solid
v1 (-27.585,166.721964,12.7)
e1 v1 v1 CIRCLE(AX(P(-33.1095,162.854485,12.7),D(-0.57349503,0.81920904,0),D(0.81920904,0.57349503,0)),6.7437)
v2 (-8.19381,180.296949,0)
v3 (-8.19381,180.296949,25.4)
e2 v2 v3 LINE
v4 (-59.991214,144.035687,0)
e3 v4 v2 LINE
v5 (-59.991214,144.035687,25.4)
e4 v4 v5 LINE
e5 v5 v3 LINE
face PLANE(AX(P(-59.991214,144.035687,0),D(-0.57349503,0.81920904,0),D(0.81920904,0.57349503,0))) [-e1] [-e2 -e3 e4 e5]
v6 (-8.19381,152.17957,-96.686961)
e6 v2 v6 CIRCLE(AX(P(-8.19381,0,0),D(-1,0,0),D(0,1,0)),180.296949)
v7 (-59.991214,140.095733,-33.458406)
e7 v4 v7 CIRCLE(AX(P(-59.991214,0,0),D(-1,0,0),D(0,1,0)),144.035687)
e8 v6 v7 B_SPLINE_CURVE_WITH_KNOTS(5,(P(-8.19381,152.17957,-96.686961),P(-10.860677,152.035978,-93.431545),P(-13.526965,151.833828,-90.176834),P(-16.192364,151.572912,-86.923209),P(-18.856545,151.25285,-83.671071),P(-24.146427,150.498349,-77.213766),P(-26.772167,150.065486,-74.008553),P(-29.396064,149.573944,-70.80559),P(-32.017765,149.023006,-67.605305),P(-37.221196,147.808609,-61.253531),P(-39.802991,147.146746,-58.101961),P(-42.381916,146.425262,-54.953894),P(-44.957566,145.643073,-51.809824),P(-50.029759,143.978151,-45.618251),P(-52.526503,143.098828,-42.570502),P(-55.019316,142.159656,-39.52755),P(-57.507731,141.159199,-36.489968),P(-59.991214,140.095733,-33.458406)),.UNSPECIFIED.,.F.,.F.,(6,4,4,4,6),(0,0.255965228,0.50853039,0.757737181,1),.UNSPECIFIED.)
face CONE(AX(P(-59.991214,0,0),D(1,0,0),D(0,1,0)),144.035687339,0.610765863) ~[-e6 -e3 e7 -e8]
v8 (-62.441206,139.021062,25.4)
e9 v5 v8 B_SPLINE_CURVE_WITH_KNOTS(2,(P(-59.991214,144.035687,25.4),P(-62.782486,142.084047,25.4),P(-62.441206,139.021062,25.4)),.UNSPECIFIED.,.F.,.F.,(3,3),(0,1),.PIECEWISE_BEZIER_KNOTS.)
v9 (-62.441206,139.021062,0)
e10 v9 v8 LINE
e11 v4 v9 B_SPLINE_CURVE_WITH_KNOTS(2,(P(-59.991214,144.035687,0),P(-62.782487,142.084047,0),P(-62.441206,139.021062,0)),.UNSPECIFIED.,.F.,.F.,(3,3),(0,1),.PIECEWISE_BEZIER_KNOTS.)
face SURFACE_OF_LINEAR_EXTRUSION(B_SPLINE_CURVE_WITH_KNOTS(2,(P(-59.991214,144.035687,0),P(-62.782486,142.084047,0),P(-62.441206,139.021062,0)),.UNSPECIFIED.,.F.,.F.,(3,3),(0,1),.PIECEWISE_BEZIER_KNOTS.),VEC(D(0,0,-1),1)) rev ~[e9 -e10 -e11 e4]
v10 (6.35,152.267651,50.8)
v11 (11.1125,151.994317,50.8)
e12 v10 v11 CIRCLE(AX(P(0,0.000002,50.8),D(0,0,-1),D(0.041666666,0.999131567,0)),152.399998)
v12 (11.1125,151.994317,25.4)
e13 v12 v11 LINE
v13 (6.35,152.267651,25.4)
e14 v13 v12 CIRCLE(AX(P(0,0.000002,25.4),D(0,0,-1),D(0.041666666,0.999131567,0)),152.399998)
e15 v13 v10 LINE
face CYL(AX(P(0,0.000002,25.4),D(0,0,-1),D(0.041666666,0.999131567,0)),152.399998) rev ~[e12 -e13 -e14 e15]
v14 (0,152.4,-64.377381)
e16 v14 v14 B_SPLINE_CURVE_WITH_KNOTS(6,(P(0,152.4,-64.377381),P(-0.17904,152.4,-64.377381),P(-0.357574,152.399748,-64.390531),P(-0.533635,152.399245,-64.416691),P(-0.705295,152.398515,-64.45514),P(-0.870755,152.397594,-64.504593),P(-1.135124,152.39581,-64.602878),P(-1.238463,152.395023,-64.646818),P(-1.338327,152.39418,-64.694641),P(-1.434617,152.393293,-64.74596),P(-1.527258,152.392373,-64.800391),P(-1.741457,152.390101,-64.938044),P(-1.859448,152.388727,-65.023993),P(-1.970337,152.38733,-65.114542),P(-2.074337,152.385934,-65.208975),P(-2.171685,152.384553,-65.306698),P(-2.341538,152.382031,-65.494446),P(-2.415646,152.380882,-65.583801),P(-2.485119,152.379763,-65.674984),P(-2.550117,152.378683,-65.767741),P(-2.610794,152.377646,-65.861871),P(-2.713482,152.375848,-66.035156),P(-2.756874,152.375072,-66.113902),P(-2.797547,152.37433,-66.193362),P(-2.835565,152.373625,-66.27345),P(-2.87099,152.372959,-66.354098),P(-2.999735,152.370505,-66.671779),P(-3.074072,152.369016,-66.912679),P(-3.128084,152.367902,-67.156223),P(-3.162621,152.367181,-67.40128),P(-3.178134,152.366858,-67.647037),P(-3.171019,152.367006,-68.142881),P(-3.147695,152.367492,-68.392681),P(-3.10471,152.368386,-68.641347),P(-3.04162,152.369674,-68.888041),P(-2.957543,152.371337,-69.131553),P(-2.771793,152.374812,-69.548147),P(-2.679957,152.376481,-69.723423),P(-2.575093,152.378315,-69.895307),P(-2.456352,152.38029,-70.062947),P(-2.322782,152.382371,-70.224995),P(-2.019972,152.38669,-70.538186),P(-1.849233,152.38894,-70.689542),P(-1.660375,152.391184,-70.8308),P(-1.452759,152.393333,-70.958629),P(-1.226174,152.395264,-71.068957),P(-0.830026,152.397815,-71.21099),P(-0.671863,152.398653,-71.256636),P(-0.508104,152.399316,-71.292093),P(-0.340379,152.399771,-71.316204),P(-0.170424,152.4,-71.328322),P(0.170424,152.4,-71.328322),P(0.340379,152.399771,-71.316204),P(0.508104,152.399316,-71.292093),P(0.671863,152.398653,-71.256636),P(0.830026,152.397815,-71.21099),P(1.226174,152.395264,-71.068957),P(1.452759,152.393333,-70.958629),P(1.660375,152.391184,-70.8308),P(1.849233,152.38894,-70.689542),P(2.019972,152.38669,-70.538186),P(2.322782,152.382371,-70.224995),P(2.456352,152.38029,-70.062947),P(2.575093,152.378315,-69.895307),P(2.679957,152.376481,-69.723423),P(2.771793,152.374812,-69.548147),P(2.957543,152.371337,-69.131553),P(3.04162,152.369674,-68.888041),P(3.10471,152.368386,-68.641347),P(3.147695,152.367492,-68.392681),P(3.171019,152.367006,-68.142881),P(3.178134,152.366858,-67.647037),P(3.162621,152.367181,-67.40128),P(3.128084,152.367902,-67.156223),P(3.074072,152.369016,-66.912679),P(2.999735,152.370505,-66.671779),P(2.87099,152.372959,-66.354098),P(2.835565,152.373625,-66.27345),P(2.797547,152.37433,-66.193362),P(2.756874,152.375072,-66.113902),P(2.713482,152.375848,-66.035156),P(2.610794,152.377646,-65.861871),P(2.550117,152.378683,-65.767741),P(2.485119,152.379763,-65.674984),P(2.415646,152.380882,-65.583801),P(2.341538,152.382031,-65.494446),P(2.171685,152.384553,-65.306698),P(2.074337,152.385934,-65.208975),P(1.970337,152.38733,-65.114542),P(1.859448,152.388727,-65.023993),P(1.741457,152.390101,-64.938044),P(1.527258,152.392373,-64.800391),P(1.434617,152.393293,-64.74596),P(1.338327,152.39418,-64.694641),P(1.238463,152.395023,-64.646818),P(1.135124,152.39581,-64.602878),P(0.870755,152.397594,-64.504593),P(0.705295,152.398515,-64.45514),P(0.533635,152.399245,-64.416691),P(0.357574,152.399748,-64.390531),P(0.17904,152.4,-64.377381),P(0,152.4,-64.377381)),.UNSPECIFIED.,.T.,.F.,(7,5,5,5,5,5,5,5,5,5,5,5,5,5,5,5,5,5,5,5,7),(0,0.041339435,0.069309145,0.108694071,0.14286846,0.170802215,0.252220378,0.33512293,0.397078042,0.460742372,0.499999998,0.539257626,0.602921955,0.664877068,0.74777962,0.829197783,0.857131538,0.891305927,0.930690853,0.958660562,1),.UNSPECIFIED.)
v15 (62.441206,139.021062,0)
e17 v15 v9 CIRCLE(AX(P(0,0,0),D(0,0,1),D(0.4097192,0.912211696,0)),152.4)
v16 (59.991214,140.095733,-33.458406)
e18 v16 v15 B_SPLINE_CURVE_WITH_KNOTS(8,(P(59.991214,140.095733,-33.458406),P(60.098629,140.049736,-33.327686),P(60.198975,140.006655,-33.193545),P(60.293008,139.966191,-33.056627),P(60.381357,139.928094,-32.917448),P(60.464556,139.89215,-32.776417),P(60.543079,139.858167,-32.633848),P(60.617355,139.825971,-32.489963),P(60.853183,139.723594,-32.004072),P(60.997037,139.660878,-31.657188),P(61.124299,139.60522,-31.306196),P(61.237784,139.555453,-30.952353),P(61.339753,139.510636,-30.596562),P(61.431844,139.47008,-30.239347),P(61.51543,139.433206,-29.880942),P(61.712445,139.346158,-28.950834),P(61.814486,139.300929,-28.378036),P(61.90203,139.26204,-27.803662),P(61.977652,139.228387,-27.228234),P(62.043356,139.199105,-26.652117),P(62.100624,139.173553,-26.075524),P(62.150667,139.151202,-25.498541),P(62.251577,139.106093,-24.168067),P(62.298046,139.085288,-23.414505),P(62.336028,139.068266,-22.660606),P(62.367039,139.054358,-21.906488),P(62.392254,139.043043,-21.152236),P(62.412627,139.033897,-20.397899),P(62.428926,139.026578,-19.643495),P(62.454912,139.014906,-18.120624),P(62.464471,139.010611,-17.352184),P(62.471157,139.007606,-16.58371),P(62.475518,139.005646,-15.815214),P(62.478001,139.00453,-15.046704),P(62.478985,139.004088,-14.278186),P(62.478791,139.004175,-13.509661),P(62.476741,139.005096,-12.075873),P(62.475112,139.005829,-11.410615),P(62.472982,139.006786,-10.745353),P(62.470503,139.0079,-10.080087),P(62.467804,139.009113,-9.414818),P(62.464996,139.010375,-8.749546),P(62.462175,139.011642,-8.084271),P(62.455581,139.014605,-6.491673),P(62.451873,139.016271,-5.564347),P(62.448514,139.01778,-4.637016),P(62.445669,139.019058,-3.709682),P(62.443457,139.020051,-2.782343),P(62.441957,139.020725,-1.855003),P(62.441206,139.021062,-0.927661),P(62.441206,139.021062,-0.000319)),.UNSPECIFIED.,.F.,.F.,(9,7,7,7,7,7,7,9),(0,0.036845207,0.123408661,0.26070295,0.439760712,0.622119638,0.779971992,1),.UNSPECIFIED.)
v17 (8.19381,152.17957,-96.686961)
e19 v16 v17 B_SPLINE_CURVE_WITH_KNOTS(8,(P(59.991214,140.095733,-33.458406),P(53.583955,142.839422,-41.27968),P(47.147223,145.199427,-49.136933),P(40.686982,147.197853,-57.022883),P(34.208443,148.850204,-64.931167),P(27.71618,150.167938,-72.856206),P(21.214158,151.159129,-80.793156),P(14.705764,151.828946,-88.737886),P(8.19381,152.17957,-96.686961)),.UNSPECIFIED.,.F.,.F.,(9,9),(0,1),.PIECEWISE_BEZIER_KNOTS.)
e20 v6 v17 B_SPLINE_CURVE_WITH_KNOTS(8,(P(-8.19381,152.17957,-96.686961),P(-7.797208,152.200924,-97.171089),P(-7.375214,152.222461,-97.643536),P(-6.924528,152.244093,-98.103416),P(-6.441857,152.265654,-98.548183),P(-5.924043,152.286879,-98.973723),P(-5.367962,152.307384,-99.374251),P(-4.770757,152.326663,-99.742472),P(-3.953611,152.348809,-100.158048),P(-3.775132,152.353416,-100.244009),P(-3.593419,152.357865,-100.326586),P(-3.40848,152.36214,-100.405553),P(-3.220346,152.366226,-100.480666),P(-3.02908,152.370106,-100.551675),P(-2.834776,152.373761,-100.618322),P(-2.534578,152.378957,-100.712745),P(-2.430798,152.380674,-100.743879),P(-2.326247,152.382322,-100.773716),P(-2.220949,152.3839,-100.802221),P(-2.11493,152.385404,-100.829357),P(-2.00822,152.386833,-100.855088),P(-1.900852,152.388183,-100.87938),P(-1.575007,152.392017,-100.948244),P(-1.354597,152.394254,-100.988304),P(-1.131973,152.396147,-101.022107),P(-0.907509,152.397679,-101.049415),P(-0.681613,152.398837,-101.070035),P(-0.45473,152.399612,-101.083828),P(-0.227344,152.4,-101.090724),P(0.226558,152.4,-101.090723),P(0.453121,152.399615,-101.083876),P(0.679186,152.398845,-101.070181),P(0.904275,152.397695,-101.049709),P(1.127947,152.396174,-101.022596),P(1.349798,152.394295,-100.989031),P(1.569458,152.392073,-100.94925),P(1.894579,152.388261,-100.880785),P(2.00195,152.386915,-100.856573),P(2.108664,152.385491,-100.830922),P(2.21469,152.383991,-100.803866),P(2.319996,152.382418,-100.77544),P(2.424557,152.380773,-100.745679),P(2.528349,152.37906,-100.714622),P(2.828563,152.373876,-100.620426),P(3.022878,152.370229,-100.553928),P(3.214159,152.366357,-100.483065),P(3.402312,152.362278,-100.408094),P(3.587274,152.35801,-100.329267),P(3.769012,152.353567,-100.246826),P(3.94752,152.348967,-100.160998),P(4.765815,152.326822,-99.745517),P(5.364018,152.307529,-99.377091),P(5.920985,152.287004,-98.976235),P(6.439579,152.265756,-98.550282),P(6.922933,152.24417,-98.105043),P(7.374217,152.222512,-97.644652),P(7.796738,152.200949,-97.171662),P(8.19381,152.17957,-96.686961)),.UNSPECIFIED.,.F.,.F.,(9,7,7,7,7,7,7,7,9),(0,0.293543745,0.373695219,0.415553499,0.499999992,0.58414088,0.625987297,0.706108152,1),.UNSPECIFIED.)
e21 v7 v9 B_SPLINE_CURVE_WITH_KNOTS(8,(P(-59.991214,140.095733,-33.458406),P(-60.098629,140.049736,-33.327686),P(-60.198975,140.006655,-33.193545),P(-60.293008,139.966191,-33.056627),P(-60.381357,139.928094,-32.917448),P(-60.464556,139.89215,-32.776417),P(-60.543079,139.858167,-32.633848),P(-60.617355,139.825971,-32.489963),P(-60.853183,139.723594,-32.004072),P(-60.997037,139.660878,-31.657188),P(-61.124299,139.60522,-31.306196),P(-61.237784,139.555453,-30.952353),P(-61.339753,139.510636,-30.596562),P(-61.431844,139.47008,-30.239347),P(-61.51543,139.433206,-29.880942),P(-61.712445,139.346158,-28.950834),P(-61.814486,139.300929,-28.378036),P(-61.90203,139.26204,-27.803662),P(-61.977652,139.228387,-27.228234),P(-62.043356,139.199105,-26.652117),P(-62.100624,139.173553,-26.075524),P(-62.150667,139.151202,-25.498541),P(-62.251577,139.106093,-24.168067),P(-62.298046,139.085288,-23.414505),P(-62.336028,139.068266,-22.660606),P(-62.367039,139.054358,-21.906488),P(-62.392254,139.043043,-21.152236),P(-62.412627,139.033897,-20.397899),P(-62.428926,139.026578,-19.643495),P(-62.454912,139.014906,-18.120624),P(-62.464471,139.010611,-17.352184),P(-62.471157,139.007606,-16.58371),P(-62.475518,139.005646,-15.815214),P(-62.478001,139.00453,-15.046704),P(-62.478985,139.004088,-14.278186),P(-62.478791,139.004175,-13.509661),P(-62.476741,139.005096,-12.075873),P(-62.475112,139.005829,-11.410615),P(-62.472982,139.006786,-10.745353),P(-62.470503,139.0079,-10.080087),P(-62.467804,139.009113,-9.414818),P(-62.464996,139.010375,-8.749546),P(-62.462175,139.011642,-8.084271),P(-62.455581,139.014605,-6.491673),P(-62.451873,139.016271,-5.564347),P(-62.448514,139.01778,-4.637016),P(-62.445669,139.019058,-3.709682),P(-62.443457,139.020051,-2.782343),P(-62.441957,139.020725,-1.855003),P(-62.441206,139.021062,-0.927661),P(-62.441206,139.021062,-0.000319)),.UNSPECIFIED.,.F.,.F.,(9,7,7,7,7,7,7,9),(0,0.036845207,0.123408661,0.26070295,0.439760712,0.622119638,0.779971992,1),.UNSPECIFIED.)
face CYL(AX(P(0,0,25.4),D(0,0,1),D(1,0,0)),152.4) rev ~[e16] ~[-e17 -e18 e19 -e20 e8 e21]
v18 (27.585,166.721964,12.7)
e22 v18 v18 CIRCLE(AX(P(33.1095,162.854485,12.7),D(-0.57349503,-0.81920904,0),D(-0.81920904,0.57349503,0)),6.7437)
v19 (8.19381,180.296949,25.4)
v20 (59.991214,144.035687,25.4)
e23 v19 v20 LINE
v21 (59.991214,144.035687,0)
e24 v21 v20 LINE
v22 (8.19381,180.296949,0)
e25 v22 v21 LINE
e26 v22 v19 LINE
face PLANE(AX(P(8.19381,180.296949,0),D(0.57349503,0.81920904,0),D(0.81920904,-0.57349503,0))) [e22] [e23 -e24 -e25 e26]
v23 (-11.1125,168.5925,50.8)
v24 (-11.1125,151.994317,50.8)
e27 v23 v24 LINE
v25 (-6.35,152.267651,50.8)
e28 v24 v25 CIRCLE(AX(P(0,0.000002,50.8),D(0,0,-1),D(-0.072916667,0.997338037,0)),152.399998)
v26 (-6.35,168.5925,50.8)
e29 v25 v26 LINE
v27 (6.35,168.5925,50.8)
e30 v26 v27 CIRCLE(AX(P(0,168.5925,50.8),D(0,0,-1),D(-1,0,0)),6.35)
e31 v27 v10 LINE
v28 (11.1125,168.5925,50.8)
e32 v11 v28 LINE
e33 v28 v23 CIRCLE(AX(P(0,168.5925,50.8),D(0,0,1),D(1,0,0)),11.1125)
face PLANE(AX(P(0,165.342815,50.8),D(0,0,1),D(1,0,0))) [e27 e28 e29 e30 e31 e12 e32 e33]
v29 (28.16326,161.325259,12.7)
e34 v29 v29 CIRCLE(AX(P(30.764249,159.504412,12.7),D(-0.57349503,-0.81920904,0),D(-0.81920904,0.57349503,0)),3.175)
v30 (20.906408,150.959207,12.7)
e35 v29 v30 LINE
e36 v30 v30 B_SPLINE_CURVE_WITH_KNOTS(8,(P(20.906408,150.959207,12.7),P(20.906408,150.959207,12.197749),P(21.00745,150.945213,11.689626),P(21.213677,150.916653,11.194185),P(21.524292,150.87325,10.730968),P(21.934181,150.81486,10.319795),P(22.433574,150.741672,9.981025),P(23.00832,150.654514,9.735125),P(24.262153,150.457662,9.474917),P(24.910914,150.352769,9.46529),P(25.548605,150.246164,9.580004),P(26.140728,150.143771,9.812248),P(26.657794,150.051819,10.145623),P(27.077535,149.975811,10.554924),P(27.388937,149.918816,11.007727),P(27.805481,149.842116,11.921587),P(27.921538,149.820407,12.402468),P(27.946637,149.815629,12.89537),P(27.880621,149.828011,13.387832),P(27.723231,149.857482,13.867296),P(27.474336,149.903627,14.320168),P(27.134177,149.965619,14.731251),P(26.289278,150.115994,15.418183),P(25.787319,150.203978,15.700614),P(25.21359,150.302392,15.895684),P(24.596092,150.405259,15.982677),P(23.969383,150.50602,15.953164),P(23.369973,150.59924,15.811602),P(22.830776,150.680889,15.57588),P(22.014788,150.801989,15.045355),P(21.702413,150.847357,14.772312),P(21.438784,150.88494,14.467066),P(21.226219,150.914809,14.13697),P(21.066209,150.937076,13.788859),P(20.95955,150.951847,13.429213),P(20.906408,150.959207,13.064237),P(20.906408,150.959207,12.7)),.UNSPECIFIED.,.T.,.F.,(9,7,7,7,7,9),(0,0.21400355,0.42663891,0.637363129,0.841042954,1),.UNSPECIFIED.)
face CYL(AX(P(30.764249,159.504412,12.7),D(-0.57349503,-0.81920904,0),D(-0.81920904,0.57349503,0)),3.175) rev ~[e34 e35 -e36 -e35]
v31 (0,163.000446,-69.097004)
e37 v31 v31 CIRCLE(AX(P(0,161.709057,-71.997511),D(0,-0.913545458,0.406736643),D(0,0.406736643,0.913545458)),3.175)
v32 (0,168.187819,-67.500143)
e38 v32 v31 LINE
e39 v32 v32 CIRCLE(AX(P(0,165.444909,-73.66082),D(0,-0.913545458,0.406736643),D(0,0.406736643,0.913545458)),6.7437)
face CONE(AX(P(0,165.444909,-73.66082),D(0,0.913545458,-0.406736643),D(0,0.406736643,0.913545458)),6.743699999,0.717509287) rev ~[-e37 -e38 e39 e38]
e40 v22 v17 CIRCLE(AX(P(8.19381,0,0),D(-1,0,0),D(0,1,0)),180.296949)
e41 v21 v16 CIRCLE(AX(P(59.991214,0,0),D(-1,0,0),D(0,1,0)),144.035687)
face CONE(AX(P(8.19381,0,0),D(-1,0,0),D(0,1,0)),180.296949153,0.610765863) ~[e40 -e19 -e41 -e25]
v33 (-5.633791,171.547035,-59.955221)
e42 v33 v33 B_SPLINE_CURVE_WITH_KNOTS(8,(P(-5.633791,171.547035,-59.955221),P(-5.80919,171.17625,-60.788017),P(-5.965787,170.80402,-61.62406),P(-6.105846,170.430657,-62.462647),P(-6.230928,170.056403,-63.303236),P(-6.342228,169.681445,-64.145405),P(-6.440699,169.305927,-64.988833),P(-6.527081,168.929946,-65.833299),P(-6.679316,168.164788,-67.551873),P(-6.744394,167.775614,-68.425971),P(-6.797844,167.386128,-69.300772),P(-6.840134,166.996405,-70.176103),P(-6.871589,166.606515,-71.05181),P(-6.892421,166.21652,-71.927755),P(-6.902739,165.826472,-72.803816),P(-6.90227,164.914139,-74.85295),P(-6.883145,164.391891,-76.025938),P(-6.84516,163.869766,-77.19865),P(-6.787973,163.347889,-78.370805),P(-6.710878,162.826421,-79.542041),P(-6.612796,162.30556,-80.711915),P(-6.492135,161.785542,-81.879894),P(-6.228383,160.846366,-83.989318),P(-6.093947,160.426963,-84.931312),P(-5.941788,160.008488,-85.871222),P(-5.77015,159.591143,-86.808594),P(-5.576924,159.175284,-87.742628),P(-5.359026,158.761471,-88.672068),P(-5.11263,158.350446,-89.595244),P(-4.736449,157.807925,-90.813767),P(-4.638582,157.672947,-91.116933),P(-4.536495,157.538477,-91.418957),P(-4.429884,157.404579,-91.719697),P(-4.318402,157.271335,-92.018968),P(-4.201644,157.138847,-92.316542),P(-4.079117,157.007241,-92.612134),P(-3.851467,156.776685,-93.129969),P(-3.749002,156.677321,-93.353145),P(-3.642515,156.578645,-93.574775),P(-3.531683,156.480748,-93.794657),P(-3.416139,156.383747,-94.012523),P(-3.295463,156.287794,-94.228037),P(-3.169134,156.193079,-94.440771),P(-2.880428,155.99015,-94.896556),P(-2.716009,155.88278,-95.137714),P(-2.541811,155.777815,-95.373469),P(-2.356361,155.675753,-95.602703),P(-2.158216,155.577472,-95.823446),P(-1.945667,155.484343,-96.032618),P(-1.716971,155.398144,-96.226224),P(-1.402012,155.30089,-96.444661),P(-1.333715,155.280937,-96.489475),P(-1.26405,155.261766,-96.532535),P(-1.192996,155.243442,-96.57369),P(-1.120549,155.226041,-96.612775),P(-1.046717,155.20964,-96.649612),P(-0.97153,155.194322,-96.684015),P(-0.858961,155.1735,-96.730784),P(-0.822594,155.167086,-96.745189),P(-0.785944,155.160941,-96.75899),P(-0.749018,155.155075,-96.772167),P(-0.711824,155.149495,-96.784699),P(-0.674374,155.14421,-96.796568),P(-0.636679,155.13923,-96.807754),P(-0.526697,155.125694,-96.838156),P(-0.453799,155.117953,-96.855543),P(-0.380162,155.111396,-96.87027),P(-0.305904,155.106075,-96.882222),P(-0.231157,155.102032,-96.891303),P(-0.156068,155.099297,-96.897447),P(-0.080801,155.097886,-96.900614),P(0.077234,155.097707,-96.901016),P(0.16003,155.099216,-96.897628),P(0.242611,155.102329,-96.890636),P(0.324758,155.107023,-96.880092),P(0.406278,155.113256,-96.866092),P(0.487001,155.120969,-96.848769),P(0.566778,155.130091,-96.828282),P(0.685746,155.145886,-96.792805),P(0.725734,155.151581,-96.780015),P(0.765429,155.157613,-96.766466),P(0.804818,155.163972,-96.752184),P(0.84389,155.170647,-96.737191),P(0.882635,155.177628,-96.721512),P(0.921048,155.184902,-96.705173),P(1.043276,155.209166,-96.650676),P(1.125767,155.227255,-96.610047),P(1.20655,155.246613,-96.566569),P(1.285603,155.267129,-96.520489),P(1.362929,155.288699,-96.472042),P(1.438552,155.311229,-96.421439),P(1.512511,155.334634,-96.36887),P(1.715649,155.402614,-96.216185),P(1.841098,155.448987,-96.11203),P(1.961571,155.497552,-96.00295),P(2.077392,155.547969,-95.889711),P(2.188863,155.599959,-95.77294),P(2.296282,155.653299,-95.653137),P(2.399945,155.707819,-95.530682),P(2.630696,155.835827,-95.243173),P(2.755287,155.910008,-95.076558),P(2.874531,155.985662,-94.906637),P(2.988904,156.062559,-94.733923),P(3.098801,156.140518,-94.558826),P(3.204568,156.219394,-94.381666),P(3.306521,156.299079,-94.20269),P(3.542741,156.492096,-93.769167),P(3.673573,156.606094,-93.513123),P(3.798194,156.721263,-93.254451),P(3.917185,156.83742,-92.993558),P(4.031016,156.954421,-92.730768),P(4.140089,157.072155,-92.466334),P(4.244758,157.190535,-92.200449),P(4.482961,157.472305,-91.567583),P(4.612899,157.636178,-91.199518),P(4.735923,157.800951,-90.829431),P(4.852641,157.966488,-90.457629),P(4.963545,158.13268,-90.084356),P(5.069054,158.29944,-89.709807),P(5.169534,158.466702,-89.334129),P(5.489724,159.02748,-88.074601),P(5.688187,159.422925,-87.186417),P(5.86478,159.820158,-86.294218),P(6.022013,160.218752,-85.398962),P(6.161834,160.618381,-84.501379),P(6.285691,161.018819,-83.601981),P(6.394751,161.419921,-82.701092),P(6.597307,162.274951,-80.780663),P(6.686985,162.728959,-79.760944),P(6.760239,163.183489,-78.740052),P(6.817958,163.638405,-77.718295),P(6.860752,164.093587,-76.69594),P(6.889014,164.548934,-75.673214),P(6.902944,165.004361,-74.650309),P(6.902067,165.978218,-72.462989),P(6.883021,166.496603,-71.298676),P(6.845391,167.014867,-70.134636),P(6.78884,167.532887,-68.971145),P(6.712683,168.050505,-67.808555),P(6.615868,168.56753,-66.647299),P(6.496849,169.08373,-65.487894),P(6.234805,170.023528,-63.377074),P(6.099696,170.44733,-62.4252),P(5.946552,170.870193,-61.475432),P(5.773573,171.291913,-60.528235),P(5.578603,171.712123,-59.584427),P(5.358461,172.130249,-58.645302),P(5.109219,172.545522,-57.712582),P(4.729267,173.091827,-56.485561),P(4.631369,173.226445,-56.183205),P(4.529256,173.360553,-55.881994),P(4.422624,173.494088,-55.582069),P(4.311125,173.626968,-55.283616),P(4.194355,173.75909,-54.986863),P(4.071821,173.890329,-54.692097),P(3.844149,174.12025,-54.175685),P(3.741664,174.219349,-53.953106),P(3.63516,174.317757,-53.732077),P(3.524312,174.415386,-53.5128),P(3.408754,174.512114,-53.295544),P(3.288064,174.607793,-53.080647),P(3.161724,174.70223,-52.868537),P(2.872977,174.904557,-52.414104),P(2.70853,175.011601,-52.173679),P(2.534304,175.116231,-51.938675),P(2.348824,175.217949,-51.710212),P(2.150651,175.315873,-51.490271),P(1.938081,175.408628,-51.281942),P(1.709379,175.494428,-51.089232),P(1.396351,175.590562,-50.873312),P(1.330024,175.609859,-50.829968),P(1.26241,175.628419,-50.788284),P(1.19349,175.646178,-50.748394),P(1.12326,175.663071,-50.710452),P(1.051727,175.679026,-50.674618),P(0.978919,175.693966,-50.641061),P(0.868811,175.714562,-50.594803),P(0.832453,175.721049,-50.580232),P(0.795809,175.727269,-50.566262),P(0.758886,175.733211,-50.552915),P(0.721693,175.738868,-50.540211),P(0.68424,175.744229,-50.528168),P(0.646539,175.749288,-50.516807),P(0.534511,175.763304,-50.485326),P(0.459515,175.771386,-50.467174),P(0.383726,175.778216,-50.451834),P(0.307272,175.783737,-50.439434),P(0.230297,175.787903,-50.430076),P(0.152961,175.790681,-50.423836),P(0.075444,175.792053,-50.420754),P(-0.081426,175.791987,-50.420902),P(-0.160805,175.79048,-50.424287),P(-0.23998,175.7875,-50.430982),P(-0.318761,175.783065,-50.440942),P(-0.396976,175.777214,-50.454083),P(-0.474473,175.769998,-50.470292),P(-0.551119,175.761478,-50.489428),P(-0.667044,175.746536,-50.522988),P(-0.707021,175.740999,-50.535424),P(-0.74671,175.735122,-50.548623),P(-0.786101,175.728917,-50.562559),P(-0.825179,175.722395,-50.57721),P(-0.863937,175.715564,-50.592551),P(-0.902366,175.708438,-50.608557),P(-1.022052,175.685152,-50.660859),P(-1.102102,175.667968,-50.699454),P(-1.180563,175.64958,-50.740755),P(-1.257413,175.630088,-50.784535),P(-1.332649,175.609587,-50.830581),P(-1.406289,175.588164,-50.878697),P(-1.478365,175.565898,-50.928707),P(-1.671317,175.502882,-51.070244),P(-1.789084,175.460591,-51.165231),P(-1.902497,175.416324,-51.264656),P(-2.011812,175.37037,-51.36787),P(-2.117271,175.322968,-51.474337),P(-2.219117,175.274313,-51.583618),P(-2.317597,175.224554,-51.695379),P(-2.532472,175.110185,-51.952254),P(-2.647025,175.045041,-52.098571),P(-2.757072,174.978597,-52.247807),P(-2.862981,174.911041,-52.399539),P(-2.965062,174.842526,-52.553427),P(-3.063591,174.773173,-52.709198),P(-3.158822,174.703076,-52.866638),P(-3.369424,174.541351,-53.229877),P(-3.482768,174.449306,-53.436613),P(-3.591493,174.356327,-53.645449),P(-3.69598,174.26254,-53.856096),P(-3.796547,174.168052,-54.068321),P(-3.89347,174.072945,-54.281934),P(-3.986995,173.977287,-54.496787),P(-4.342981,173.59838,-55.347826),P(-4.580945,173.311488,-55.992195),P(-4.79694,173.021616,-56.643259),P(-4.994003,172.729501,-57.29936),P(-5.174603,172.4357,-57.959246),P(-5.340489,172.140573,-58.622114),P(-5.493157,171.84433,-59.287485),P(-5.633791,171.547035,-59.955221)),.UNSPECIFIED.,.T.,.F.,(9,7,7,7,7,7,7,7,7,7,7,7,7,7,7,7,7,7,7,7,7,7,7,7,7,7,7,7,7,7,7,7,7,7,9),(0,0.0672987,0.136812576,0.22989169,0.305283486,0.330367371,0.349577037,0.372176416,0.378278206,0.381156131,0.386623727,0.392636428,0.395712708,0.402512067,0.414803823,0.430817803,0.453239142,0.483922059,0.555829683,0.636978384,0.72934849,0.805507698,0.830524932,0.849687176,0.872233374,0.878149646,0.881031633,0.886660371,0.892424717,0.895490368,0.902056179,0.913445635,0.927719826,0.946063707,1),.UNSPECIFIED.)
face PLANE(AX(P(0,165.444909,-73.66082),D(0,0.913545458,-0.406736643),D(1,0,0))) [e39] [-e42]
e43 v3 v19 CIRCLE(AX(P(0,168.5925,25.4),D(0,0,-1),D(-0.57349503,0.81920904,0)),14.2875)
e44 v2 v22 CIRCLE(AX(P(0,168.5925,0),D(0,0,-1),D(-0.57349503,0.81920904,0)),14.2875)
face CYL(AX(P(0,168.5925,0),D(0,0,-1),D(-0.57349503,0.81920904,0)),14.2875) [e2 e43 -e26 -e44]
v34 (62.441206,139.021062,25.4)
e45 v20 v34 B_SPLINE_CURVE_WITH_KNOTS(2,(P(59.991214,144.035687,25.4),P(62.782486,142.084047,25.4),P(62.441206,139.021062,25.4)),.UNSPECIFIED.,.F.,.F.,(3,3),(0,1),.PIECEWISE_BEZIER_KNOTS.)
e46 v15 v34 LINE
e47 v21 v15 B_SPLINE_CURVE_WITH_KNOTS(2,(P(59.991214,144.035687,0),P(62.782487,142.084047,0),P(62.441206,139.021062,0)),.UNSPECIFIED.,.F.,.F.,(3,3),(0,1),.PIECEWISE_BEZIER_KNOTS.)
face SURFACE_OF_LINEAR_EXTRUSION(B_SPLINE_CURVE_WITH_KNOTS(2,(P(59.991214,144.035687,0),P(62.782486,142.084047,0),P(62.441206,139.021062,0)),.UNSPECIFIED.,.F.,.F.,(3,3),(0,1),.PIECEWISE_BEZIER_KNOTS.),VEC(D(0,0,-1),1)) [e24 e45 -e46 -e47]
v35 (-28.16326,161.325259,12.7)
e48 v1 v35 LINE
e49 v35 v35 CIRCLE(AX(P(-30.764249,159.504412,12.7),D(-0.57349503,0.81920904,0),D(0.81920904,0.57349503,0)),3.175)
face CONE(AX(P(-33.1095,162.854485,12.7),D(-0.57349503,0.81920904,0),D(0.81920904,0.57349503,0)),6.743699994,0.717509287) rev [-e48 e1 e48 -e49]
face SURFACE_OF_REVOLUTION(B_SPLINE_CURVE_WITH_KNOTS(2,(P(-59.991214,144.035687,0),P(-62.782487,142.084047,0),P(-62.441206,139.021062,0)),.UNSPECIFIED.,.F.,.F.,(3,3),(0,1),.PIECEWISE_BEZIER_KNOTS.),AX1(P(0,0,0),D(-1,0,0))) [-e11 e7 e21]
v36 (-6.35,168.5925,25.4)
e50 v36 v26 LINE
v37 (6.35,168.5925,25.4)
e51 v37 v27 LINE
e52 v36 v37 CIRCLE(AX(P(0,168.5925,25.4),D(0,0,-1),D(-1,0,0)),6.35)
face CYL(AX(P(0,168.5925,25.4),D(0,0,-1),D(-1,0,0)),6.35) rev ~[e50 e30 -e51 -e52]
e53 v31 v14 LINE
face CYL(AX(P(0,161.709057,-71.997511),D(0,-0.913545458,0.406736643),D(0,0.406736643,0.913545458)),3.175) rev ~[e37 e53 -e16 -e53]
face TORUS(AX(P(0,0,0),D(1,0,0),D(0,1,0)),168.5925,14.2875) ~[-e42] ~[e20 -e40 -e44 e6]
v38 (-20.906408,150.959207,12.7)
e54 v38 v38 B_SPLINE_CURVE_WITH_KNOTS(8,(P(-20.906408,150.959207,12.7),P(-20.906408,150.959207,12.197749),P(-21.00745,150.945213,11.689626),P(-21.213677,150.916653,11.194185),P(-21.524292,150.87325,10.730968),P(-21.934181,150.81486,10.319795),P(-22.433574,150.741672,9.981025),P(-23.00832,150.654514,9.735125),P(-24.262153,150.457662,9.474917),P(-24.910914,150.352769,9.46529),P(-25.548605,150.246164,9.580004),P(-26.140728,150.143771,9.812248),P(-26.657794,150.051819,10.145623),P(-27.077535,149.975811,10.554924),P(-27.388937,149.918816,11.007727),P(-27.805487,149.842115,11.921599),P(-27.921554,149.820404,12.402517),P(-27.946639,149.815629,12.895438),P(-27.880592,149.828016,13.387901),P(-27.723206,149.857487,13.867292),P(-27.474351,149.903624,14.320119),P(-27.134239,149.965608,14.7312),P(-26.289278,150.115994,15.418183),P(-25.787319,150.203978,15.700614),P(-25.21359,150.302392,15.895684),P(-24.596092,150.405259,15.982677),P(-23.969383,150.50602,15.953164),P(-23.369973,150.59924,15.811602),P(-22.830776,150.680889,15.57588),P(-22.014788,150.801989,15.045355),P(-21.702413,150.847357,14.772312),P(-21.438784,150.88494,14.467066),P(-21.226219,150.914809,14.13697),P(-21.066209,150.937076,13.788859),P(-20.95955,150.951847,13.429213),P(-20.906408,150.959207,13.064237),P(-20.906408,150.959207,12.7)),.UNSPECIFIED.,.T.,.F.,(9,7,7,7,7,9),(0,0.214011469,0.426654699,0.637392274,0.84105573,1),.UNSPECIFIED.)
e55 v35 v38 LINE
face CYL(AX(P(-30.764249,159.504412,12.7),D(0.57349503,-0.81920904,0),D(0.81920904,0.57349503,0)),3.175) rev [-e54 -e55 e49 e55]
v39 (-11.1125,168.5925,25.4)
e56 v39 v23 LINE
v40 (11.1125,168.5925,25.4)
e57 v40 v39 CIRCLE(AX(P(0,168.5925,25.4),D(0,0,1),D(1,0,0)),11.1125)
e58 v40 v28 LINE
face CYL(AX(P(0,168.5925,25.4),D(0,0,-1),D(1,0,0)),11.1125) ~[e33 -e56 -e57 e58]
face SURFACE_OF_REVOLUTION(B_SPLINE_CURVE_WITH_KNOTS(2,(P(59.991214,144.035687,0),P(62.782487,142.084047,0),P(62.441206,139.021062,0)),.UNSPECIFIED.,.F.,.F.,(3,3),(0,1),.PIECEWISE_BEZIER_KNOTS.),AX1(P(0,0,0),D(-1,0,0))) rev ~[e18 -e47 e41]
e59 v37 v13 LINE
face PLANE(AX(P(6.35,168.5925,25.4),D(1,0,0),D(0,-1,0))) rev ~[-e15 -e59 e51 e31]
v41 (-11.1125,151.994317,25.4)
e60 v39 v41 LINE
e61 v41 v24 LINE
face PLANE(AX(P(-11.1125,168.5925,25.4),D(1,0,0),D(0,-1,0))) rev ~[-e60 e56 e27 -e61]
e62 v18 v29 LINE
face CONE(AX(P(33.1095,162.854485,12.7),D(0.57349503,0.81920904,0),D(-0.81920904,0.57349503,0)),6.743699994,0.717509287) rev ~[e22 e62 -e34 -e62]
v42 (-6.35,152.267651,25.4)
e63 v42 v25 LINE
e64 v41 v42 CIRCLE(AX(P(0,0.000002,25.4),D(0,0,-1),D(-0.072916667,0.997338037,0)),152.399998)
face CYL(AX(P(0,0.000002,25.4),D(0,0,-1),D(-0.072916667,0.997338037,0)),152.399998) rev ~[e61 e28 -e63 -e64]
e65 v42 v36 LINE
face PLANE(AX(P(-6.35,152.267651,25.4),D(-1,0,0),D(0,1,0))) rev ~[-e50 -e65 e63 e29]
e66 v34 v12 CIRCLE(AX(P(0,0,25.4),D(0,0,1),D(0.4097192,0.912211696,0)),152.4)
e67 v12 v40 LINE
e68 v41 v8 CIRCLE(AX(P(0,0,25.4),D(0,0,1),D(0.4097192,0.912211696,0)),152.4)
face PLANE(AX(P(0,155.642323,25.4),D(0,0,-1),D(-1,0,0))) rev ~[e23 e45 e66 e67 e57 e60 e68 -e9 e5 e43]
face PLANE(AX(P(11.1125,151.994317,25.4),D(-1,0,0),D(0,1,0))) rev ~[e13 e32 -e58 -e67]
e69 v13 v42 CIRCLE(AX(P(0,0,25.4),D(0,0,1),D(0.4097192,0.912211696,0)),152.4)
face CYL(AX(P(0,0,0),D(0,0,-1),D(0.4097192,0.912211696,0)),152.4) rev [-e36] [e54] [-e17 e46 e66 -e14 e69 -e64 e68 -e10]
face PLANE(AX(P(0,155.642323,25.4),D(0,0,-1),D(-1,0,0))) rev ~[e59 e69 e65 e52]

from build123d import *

# Parameters (mm, degrees)
REVOLVE1_ANGLE      = 57
BOSS_EXTRUDE1_DEPTH = 25.4
SKETCH8_R           = 152.4
CUT_EXTRUDE3_DEPTH  = 257.048
SKETCH13_W          = 16.387620484
SKETCH13_H          = 127
CUT_EXTRUDE5_DEPTH  = 1.778
BOSS_EXTRUDE3_DEPTH = 25.4


with BuildPart() as part:
    # Sketch1 → Revolve1 (revolve)
    with BuildSketch(Plane.XY):
        with BuildLine():
            Line((-59.991213716, 144.035687339), (-8.193810242, 180.296949153))
            ThreePointArc((-8.193810242, 180.296949153), (0, 182.88), (8.193810242, 180.296949153))
            Line((8.193810242, 180.296949153), (59.991213716, 144.035687339))
            add(Edge.make_bspline(
                [(59.991213716, 144.035687339), (62.78248672, 142.0840471), (62.441206007, 139.021062406)],
                knots=[0, 0, 0, 1, 1, 1], degree=2))
            ThreePointArc((62.441206007, 139.021062406), (0, 152.4), (-62.441206007, 139.021062406))
            add(Edge.make_bspline(
                [(-59.991213716, 144.035687339), (-62.78248672, 142.0840471), (-62.441206007, 139.021062406)],
                knots=[0, 0, 0, 1, 1, 1], degree=2))
        make_face()
    revolve(axis=Axis((0, 0, 0), (-1, 0, 0)), revolution_arc=REVOLVE1_ANGLE)

    # Sketch3 → Boss-Extrude1 (add)
    with BuildSketch(Plane.XY):
        with BuildLine():
            Line((-59.991213716, 144.035687339), (-8.193810242, 180.296949153))
            ThreePointArc((-8.193810242, 180.296949153), (0, 182.88), (8.193810242, 180.296949153))
            Line((8.193810242, 180.296949153), (59.991213716, 144.035687339))
            add(Edge.make_bspline(
                [(59.991213716, 144.035687339), (62.782486262, 142.084047002), (62.441206007, 139.021062406)],
                knots=[0, 0, 0, 1, 1, 1], degree=2))
            ThreePointArc((62.441206007, 139.021062406), (0, 152.4), (-62.441206007, 139.021062406))
            add(Edge.make_bspline(
                [(-59.991213716, 144.035687339), (-62.782486262, 142.084047002), (-62.441206007, 139.021062406)],
                knots=[0, 0, 0, 1, 1, 1], degree=2))
        make_face()
    extrude(amount=BOSS_EXTRUDE1_DEPTH)

    # Sketch7 → Cut-Revolve2 (revolve, cut)
    with BuildSketch(Plane.XY.offset(12.7)):
        Polygon((-18.85509192, 148.029004366), (-21.456080621, 146.208157646), (-33.109499632, 162.854485329), (-27.584999632, 166.721963764), (-28.163260355, 161.325258604), align=None)
    cut_revolve2 = revolve(axis=Axis((-21.456080621, 146.208157646, 12.7), (-0.57349503, 0.81920904, 0)), mode=Mode.SUBTRACT)

    # Mirror2: Cut-Revolve2 across plane
    add(cut_revolve2.mirror(Plane(origin=(0, 0, 0), x_dir=(0, 0, 1), z_dir=(1, 0, 0))), mode=Mode.SUBTRACT)

    # Sketch8 → Cut-Extrude3 (cut)
    with BuildSketch(Plane.XY.offset(25.4)):
        Circle(SKETCH8_R)
    extrude(amount=-CUT_EXTRUDE3_DEPTH, mode=Mode.SUBTRACT)

    # Sketch13 → Cut-Extrude5 (cut)
    with BuildSketch(Plane(origin=(0, 167.069193294, -74.383997286), x_dir=(1, 0, 0), z_dir=(0, 0.913545458, -0.406736643))):
        Rectangle(SKETCH13_W, SKETCH13_H)
    extrude(amount=-CUT_EXTRUDE5_DEPTH, mode=Mode.SUBTRACT)

    # Sketch14 → Cut-Revolve4 (revolve, cut)
    with BuildSketch(Plane(origin=(0, 0, 0), x_dir=(0, 0, -1), z_dir=(1, 0, 0))):
        Polygon((73.660819534, 165.44490947), (67.500143032, 168.18781937), (69.097003878, 163.000445517), (60.429201972, 143.532243688), (63.3297088, 142.240854846), align=None)
    revolve(axis=Axis((0, 165.44490947, -73.660819534), (0, -0.913545458, 0.406736643)), mode=Mode.SUBTRACT)

    # Sketch15 → Boss-Extrude3 (add)
    with BuildSketch(Plane.XY.offset(25.4)):
        with BuildLine():
            Line((-11.1125, 168.5925), (-11.1125, 151.994316814))
            ThreePointArc((-11.1125, 151.994316814), (-8.732319534, 152.149619111), (-6.35, 152.267650865))
            Line((-6.35, 152.267650865), (-6.35, 168.5925))
            ThreePointArc((-6.35, 168.5925), (0, 174.9425), (6.35, 168.5925))
            Line((6.35, 168.5925), (6.35, 152.267650865))
            ThreePointArc((6.35, 152.267650865), (8.732319534, 152.149619111), (11.1125, 151.994316814))
            Line((11.1125, 151.994316814), (11.1125, 168.5925))
            ThreePointArc((11.1125, 168.5925), (0, 179.705), (-11.1125, 168.5925))
        make_face()
    extrude(amount=BOSS_EXTRUDE3_DEPTH)


solid = part.part
